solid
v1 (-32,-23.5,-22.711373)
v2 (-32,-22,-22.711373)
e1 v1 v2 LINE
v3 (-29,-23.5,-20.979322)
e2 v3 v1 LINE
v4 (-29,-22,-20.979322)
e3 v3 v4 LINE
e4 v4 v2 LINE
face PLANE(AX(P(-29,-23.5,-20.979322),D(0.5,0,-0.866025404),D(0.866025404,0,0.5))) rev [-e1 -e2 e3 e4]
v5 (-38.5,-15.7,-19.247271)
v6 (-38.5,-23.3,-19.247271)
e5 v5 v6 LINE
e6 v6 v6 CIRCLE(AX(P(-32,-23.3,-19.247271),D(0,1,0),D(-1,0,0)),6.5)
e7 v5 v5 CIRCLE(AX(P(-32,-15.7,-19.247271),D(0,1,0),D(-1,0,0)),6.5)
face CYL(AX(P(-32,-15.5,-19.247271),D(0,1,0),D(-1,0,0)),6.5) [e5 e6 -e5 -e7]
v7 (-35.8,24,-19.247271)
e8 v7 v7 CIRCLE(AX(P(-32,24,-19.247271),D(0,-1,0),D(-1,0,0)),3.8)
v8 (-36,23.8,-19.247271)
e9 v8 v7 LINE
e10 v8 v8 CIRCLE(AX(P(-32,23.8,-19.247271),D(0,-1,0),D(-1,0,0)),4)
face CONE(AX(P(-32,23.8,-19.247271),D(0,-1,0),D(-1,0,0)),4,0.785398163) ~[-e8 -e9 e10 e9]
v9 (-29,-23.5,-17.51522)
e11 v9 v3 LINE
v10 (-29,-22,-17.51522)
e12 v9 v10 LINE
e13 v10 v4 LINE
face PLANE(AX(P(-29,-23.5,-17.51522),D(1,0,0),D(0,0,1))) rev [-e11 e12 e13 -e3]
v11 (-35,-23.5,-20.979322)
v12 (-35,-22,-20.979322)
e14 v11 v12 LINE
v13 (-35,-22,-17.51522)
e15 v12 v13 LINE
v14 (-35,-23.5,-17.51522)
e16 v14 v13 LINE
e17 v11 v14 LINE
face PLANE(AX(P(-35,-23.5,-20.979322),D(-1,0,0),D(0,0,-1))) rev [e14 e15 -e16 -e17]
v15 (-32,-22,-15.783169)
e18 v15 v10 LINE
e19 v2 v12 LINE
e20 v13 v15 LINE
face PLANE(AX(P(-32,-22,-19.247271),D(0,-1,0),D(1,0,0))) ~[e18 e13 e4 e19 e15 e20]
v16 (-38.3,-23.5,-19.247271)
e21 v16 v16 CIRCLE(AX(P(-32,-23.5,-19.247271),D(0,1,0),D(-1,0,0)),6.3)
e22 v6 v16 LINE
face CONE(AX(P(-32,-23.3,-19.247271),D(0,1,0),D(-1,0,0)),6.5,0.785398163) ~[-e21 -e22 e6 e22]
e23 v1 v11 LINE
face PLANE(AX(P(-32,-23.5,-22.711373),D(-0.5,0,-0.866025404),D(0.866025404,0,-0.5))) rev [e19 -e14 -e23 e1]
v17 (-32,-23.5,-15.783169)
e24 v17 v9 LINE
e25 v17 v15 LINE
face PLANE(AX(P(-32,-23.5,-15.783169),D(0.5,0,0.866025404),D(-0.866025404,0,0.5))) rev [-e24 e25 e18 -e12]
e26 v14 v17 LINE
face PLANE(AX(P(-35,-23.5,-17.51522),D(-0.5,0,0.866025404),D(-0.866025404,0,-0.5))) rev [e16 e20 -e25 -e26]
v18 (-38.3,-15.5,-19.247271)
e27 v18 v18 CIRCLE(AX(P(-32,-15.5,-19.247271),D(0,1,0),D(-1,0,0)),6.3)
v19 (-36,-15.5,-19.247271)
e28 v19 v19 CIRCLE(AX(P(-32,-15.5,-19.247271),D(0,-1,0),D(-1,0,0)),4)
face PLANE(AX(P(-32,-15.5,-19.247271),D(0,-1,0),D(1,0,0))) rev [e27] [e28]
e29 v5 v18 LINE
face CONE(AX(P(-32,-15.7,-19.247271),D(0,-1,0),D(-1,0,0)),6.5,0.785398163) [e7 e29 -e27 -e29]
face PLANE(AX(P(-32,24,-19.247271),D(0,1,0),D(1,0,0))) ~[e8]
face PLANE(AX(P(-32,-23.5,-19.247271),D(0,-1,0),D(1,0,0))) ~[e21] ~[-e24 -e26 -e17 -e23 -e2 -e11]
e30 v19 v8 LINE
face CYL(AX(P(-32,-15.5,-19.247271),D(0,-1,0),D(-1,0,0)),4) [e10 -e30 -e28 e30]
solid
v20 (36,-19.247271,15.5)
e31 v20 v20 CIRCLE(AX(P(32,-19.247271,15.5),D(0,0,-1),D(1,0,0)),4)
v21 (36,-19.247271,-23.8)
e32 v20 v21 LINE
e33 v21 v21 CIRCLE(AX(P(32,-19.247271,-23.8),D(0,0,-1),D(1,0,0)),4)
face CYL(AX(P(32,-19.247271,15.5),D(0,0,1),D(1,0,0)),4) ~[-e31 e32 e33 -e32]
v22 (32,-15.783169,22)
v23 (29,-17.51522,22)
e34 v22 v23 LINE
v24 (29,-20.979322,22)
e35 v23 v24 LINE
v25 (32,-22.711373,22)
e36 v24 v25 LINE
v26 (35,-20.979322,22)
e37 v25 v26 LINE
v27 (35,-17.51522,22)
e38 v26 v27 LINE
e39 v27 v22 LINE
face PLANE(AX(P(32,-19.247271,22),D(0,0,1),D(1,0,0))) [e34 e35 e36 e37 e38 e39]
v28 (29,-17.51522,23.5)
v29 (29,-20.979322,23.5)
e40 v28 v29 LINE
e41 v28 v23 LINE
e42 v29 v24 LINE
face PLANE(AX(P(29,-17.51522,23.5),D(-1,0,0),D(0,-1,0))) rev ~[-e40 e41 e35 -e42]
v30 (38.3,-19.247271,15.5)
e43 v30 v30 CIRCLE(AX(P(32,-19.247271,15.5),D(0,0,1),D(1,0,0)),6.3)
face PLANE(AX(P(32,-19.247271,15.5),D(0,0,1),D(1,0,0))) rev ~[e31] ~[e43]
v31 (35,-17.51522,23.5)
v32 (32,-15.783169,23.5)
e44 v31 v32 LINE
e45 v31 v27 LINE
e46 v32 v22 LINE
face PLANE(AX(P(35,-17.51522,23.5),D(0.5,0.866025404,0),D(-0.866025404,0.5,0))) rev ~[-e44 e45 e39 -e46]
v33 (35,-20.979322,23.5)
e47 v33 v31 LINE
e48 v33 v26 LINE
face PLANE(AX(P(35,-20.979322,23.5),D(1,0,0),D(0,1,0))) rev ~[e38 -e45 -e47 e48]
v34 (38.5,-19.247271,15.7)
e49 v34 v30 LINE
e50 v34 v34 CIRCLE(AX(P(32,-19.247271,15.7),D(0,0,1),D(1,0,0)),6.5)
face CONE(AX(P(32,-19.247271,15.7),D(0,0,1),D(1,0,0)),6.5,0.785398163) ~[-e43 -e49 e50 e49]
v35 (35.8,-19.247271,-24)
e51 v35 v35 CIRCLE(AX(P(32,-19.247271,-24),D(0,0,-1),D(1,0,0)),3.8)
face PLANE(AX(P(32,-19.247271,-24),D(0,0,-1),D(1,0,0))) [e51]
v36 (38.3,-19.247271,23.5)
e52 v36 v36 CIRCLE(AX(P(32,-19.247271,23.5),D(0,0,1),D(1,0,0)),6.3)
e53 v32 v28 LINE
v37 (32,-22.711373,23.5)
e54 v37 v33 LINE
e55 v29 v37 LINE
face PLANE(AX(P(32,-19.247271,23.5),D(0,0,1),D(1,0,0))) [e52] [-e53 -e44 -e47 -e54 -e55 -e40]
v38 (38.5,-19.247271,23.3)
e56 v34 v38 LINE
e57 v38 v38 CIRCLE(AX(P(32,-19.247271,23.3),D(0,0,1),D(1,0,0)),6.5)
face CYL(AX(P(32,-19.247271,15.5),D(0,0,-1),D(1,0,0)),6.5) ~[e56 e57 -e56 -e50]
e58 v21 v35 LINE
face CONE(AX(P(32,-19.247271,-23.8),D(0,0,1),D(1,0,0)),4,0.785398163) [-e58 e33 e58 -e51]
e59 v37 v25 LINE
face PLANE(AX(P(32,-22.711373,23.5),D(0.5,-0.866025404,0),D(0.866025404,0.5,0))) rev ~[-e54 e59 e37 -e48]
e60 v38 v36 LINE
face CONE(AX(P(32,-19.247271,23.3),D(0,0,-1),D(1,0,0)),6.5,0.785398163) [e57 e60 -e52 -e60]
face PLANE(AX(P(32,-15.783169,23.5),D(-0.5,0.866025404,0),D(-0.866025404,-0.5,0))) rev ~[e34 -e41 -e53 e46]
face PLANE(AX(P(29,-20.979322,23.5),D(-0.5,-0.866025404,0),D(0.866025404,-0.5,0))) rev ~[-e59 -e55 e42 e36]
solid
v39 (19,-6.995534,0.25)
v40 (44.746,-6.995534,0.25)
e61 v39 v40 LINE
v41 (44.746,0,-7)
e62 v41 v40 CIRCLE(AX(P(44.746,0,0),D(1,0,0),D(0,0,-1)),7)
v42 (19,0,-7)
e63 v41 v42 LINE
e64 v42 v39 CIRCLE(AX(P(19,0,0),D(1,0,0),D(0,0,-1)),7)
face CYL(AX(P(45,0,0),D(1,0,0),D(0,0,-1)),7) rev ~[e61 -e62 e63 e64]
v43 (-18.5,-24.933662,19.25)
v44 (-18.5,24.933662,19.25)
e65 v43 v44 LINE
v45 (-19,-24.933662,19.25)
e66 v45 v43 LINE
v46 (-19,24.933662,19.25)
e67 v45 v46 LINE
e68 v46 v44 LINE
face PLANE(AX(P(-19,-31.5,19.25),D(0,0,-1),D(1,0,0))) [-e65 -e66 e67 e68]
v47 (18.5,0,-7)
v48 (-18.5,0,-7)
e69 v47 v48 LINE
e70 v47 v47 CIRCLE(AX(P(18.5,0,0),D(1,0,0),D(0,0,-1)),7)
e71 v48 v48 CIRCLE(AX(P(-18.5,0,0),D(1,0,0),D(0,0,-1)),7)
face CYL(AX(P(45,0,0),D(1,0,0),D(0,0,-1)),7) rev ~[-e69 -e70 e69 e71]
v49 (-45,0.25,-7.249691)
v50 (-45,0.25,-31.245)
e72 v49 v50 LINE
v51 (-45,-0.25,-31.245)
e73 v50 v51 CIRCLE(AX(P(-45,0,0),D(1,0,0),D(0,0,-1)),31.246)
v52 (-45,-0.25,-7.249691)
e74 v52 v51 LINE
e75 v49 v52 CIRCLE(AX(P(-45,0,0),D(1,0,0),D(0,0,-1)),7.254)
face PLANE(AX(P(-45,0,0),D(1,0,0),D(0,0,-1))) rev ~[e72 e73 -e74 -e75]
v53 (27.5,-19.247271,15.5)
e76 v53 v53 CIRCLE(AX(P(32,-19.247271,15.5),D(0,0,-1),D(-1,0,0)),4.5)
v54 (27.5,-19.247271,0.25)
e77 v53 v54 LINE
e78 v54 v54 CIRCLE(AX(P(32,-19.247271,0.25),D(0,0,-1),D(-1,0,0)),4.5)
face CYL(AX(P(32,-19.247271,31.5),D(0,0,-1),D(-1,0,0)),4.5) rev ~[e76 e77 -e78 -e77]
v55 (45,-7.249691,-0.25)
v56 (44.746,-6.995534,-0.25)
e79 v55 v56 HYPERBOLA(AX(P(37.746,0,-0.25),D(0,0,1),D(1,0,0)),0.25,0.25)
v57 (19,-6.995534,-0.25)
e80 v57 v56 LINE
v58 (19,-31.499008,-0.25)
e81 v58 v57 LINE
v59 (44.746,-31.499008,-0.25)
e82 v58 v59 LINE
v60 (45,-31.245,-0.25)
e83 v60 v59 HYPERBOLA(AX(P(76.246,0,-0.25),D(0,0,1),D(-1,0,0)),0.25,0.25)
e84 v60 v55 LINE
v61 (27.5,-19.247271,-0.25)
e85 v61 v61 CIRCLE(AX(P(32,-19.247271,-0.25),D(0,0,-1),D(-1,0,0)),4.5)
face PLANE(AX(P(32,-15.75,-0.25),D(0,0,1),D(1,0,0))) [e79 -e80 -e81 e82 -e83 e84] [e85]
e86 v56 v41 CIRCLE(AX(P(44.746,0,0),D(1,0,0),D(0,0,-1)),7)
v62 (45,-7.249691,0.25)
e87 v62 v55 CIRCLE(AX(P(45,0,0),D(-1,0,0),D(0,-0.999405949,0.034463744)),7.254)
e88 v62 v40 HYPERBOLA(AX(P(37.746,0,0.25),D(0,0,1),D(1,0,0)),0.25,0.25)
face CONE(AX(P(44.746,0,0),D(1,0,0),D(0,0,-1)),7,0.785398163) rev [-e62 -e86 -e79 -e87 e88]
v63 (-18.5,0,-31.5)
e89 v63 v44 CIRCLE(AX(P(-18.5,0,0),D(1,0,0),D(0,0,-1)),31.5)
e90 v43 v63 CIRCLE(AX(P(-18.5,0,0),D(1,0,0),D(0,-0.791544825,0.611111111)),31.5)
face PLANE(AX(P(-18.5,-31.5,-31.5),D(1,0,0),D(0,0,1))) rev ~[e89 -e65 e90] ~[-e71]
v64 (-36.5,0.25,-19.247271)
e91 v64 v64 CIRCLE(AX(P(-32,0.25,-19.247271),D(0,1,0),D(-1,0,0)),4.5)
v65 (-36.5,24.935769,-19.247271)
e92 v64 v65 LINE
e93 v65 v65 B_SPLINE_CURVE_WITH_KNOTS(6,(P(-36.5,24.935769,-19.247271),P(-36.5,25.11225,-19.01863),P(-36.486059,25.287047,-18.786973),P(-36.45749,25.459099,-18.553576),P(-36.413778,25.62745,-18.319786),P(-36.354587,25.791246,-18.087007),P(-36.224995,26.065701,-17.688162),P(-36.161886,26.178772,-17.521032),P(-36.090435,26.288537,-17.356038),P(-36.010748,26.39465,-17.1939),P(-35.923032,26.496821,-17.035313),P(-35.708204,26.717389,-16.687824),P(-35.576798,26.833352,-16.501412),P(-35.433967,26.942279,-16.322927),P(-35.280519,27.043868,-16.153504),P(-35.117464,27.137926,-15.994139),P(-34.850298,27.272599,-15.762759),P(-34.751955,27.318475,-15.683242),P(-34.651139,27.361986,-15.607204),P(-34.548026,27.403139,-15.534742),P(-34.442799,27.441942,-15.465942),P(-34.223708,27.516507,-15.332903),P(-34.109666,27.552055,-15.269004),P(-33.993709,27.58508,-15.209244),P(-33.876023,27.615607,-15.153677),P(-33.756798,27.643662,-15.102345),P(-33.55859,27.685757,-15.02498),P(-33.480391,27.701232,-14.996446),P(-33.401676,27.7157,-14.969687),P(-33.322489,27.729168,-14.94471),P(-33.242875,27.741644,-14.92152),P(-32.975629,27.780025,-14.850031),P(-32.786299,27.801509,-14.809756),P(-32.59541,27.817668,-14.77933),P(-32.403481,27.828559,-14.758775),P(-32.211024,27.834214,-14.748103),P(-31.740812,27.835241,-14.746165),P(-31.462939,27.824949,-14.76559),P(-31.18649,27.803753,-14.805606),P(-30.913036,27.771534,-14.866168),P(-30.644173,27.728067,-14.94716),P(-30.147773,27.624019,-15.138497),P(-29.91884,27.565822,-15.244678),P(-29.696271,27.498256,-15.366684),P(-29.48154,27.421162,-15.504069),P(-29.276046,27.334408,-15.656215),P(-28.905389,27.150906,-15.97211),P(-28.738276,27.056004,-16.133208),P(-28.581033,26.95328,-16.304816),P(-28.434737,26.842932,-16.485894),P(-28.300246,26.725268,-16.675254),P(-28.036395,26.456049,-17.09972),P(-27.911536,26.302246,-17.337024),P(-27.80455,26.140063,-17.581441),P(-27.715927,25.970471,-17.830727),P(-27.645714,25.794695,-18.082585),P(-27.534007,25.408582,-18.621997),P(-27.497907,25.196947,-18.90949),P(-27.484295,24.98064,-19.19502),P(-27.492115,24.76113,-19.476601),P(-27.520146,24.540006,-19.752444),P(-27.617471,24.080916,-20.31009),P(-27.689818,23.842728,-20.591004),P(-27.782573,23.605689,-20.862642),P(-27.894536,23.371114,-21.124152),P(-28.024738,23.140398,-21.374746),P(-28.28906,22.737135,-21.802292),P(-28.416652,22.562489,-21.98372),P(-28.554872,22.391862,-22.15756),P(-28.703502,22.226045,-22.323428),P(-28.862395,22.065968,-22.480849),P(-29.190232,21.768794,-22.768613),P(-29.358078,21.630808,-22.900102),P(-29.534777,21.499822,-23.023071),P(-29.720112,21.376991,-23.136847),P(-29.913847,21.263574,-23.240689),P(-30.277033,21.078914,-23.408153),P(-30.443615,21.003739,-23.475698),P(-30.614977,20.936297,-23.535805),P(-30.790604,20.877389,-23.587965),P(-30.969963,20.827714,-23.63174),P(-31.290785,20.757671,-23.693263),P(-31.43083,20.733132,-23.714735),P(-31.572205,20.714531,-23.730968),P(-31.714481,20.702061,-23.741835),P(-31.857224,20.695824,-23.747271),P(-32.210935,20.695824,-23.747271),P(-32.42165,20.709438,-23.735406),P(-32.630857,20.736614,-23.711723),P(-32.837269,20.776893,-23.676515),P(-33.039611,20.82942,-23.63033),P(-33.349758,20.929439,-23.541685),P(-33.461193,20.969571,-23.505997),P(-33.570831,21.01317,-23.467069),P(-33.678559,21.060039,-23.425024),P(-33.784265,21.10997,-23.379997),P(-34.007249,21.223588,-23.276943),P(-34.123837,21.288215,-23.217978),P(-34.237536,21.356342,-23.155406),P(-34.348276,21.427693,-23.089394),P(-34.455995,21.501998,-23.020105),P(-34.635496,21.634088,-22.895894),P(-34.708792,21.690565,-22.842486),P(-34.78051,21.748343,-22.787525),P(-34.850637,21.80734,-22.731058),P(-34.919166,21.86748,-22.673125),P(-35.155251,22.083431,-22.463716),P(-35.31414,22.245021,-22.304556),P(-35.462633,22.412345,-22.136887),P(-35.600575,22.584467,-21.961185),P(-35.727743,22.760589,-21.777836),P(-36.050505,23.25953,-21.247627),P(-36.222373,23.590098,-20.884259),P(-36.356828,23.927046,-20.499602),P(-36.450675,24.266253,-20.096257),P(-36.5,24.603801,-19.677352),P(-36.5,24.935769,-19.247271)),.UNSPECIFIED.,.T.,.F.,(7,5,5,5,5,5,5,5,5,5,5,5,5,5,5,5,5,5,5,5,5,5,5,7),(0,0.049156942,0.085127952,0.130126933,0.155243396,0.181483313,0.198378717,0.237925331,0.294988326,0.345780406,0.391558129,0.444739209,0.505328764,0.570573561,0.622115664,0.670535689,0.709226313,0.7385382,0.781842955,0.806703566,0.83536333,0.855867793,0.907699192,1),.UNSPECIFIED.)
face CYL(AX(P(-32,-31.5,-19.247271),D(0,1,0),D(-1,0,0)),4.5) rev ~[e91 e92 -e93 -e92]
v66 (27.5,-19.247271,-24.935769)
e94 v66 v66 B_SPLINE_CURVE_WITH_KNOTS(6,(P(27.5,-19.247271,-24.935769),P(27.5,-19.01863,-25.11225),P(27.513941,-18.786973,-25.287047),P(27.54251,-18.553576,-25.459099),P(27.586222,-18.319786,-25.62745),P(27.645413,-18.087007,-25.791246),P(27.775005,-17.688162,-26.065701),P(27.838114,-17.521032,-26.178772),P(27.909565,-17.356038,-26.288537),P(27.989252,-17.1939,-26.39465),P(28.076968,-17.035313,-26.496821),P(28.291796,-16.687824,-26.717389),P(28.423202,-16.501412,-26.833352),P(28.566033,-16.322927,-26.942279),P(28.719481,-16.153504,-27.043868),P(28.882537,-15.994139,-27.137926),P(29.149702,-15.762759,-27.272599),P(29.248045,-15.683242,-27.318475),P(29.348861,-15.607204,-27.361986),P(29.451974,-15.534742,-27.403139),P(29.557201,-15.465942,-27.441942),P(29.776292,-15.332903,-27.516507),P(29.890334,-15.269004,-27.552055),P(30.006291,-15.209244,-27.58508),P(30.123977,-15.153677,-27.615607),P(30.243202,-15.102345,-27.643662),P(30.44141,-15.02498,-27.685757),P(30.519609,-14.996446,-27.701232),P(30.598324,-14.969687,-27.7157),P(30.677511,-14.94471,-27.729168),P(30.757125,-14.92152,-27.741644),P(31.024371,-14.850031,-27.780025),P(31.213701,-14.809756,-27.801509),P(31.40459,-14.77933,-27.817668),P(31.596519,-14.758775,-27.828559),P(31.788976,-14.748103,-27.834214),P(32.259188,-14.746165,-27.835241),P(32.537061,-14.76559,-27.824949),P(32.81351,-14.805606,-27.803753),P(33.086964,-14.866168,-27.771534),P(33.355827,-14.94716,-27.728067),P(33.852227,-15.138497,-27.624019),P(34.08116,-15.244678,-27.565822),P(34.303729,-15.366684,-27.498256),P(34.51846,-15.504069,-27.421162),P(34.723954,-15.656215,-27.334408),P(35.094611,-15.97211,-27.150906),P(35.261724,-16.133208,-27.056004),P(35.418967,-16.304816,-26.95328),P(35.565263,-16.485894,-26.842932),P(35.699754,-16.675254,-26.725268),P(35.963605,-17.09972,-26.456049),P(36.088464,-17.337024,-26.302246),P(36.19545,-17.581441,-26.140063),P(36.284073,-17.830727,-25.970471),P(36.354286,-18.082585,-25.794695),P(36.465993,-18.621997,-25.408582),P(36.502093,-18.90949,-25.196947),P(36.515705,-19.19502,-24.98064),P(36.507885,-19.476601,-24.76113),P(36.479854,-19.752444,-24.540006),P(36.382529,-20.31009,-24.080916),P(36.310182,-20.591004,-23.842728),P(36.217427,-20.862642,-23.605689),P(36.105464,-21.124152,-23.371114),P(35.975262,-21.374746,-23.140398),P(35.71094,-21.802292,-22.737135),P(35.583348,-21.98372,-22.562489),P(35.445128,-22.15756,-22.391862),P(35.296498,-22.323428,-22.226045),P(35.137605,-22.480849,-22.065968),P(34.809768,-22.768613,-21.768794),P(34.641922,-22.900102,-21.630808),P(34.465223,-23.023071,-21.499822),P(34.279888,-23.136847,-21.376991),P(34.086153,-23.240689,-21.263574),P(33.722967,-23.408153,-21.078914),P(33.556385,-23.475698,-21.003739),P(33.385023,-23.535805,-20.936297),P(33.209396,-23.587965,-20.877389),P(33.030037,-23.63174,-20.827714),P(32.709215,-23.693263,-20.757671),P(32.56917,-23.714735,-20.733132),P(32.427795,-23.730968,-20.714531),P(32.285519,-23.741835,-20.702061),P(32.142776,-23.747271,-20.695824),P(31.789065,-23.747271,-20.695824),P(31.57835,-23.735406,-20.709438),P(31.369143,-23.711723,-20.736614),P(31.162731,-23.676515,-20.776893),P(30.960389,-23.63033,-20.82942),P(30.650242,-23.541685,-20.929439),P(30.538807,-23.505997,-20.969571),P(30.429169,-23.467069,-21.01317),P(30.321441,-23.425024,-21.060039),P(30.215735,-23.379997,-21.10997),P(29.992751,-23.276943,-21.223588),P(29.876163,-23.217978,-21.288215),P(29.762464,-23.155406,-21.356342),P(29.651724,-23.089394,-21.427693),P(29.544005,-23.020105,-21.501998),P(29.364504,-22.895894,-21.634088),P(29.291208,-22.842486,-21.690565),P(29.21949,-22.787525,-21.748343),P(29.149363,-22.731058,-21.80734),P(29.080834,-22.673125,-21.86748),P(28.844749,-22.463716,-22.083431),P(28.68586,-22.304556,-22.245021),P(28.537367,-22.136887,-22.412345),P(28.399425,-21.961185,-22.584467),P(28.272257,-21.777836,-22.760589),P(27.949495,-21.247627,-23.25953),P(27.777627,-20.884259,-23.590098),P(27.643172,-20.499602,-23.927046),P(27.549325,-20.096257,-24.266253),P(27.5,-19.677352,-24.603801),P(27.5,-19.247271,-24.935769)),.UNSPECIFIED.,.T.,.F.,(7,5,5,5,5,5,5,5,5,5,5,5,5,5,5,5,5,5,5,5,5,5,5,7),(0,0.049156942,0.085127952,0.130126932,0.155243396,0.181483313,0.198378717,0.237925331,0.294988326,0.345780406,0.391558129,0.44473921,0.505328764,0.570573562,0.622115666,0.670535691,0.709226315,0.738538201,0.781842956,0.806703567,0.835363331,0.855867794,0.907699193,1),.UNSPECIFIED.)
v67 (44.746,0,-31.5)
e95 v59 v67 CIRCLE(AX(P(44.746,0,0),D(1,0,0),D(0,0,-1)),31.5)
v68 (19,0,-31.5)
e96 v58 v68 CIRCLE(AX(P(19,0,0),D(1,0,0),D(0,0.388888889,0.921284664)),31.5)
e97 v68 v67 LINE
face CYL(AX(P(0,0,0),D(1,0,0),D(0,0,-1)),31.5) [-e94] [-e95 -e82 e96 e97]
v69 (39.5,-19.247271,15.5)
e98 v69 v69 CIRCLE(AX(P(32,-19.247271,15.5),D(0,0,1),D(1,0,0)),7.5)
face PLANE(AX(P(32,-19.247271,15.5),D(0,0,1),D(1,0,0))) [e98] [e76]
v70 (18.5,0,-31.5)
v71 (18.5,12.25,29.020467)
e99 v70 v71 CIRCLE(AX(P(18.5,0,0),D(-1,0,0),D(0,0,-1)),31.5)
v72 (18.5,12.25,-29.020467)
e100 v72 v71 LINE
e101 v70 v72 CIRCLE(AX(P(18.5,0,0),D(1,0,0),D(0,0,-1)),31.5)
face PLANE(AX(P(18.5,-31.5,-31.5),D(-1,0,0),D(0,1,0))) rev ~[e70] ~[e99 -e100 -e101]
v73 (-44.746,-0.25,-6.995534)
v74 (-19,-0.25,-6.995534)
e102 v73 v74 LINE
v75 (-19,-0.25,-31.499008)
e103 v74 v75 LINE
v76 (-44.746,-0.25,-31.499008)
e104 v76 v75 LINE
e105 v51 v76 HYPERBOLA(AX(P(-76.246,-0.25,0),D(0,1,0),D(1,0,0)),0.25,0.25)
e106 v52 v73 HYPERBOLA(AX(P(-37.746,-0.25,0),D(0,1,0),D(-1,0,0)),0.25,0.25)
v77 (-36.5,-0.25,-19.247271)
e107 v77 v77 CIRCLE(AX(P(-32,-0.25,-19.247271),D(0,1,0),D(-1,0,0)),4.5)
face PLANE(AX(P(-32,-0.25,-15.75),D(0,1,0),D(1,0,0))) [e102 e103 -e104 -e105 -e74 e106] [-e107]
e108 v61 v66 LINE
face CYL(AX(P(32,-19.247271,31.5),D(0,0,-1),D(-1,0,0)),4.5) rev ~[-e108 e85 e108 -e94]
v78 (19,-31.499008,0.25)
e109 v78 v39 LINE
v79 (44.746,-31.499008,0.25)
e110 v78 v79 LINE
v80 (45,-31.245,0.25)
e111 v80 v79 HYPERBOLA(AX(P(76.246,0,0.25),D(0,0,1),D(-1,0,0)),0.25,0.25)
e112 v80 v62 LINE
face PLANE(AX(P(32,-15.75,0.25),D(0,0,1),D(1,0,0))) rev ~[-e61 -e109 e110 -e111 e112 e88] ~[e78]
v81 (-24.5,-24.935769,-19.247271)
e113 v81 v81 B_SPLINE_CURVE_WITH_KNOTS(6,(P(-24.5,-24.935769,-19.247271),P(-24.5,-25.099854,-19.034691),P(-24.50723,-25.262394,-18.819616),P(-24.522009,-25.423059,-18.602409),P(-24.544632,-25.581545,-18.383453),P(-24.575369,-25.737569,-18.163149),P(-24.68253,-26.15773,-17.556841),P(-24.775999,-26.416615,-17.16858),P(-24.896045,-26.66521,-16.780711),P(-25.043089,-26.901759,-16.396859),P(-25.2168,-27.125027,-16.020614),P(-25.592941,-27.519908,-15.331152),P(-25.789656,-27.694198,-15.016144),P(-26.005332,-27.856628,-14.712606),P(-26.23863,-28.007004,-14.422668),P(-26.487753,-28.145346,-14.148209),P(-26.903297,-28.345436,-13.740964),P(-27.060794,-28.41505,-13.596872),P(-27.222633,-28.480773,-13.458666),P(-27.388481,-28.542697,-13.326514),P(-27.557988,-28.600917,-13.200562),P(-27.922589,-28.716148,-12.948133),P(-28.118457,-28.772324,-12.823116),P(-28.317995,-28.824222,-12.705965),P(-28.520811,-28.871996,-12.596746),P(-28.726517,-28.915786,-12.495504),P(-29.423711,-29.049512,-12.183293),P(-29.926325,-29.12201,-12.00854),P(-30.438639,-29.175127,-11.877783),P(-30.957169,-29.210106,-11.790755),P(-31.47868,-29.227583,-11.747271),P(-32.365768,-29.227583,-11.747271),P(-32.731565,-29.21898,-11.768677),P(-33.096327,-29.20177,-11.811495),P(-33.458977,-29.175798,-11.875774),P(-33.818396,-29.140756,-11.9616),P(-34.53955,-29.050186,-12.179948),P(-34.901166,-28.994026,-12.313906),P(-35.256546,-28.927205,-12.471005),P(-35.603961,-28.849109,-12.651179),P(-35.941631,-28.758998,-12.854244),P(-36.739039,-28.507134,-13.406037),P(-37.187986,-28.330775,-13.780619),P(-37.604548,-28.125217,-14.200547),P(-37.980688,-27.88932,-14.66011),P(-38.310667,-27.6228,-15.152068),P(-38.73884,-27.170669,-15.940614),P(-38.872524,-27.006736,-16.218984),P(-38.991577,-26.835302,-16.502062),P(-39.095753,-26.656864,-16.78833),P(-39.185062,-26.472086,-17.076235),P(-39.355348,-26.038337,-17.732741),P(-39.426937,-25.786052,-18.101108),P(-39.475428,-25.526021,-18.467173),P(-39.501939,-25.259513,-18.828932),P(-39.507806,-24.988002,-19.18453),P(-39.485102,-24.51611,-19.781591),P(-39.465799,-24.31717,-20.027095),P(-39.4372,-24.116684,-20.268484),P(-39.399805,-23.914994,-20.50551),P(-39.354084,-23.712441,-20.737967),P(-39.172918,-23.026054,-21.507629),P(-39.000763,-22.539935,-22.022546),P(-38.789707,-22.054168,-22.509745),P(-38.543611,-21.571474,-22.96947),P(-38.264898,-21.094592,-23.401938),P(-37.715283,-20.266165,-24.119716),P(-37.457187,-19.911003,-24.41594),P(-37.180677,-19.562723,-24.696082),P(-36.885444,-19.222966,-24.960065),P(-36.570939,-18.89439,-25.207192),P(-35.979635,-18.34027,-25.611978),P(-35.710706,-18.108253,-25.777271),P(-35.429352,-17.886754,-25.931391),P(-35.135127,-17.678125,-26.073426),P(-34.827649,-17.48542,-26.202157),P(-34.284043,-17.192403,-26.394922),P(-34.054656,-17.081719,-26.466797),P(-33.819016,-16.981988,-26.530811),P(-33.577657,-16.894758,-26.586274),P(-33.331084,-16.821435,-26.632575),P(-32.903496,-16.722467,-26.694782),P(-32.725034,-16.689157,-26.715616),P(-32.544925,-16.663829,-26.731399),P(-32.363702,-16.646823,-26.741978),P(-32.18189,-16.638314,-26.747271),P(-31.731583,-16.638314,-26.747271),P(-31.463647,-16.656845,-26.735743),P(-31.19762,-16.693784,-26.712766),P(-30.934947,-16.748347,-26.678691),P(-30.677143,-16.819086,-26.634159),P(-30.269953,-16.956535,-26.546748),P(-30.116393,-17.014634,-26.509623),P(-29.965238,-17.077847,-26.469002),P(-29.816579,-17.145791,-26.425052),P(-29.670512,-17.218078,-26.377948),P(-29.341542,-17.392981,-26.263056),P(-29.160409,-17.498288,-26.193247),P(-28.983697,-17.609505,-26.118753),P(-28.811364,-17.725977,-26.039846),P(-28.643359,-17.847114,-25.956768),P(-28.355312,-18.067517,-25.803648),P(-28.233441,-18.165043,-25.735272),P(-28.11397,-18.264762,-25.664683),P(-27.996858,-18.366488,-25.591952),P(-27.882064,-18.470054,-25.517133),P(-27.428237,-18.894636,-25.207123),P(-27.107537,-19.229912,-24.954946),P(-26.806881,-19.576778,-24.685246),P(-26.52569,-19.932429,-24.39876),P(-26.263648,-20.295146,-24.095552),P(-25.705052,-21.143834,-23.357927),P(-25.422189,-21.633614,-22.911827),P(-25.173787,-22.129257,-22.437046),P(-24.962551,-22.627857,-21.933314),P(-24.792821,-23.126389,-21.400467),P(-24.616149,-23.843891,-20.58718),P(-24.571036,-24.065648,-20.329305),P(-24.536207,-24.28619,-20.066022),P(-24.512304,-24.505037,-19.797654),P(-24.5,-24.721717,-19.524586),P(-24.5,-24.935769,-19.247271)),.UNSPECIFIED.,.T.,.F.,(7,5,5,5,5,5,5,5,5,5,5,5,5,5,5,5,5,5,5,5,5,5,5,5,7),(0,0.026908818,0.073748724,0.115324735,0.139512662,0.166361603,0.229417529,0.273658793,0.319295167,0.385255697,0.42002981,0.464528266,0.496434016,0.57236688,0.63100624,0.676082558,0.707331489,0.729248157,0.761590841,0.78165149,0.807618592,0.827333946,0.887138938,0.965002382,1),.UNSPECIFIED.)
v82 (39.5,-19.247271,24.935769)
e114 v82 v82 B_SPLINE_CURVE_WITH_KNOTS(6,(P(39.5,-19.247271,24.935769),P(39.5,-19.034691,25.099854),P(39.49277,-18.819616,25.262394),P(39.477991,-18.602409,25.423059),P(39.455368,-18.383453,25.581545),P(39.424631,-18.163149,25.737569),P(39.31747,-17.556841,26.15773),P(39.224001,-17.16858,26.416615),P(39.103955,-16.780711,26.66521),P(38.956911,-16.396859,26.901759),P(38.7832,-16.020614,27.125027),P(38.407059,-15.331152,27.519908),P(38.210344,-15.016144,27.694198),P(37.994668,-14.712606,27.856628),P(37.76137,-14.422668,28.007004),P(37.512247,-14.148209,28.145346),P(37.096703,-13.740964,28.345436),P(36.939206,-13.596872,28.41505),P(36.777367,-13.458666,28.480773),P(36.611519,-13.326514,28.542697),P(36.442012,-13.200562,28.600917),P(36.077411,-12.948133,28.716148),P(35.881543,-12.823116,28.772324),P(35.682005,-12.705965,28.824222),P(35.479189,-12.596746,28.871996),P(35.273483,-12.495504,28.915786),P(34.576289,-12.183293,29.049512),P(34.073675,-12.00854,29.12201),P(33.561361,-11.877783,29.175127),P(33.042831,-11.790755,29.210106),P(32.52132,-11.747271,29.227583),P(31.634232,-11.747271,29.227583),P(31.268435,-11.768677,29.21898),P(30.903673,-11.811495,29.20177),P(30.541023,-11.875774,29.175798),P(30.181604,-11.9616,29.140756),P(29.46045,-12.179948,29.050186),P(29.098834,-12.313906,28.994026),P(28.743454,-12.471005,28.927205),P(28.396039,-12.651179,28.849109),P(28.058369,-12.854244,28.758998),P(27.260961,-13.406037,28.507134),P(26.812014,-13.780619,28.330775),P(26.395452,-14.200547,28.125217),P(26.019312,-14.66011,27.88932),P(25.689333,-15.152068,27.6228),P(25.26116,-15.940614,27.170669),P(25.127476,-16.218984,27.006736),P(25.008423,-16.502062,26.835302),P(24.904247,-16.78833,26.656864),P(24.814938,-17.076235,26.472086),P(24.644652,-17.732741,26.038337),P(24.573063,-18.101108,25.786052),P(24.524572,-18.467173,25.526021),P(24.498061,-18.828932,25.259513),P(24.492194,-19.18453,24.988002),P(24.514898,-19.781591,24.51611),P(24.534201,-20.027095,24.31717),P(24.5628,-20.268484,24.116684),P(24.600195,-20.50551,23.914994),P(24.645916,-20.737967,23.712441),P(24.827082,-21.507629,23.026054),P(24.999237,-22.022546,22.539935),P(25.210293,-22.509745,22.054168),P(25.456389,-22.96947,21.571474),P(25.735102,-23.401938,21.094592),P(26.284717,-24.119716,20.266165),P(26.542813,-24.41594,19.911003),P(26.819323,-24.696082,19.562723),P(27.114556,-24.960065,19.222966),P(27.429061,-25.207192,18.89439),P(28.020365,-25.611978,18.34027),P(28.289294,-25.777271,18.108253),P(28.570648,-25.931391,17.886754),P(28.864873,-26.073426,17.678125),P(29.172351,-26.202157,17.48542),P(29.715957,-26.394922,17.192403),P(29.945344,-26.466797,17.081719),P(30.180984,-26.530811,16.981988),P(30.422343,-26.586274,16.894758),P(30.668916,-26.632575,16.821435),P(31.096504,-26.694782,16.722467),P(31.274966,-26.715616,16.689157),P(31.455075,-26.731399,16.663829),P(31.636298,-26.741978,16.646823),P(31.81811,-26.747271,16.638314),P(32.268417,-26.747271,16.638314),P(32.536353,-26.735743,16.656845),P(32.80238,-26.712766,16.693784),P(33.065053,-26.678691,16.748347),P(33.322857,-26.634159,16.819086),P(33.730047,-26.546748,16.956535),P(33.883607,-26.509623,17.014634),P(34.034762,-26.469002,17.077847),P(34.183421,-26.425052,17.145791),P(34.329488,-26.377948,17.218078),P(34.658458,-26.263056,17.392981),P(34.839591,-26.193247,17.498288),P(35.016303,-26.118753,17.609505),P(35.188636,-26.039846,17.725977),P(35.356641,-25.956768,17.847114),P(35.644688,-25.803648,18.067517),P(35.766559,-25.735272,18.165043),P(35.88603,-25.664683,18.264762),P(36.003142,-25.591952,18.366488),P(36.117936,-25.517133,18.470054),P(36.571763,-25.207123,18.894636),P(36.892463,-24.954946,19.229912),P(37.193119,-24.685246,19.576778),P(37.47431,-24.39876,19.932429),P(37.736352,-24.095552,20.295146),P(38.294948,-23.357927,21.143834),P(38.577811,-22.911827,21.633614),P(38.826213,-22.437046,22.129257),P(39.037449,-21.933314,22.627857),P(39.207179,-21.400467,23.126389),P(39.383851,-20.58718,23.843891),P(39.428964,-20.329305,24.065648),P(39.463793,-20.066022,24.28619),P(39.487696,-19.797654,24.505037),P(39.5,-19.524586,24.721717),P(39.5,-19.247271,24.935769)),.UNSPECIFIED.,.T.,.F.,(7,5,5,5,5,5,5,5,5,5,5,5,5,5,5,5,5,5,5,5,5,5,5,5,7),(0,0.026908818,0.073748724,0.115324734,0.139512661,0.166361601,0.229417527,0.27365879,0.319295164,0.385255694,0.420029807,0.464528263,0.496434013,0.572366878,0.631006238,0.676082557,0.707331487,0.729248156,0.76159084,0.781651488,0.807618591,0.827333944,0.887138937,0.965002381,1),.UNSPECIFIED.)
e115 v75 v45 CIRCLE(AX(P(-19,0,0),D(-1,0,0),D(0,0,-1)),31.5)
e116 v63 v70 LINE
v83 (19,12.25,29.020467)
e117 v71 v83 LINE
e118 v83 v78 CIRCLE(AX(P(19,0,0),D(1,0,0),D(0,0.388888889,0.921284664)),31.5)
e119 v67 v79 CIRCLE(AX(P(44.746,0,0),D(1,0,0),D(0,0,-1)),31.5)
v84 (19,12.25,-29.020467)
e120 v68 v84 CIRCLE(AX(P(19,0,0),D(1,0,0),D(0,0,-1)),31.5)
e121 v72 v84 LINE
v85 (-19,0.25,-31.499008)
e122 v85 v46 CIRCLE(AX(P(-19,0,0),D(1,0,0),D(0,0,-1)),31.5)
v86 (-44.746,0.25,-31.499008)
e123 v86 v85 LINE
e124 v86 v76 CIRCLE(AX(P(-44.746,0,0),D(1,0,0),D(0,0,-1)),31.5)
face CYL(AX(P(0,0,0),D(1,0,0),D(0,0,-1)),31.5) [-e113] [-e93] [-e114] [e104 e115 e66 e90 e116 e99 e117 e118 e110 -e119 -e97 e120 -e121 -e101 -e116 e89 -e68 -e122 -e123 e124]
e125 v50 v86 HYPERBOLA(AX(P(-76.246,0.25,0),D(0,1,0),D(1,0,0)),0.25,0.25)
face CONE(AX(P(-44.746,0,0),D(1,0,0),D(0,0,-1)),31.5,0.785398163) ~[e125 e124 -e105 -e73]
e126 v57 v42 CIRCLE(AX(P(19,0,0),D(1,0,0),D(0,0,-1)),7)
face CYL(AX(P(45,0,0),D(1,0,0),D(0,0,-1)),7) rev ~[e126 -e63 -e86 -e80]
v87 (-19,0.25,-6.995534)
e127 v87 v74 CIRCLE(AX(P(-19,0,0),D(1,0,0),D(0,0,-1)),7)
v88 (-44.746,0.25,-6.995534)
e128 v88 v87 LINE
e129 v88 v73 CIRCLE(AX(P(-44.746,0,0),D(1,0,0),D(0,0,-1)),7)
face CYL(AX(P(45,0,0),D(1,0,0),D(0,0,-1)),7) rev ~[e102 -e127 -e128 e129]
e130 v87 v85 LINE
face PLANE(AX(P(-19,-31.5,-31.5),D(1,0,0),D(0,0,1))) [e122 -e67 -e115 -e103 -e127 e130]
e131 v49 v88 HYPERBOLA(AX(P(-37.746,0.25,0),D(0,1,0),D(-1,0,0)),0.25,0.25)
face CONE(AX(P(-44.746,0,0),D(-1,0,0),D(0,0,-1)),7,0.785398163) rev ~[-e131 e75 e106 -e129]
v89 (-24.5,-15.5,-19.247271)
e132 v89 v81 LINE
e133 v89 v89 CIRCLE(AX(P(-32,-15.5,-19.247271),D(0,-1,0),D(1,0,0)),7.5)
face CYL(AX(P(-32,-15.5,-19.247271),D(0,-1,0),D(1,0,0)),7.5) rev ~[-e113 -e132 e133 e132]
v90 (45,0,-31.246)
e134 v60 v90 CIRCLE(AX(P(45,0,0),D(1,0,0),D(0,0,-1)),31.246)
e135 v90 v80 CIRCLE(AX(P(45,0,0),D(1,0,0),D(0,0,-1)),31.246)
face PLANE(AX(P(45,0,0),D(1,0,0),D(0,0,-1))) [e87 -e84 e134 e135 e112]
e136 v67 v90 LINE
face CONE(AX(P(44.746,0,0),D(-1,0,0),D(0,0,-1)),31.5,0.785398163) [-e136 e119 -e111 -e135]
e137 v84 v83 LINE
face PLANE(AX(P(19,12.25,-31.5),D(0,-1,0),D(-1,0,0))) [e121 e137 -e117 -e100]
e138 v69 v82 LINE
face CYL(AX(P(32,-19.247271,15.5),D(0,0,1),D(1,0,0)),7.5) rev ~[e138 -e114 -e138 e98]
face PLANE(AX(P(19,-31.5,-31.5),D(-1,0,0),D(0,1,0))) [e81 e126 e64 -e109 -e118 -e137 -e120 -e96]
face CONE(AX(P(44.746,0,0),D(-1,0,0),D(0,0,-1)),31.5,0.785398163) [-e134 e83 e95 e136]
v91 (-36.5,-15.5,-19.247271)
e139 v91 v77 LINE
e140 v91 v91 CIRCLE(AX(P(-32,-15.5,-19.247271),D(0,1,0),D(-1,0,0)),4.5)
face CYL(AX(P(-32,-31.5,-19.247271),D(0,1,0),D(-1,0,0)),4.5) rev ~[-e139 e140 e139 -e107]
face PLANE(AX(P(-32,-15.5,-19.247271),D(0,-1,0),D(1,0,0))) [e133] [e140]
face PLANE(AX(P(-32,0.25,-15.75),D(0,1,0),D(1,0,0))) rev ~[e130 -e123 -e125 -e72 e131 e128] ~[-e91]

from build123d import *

# Parameters (mm, degrees)
SKETCH1_R                      = 31.5
BOSS_EXTRUDE1_DEPTH            = 45
SKETCH2_R                      = 7
CUT_EXTRUDE1_DEPTH             = 91
CHAMFER1_SIZE                  = 0.254
SKETCH4_W                      = 0.5
SKETCH4_H                      = 50.75
CUT_EXTRUDE2_DEPTH             = 64
SKETCH7_W                      = 0.5
SKETCH7_H                      = 43.75
CUT_EXTRUDE3_DEPTH             = 64
SKETCH8_W                      = 26
SKETCH8_H                      = 31.5
CUT_EXTRUDE5_DEPTH             = 0.25
SKETCH13_W                     = 26
SKETCH13_H                     = 31.5
CUT_EXTRUDE6_DEPTH             = 0.25
CBORE_FOR_M8_SHCS1_D           = 9
CBORE_FOR_M8_SHCS1_CBORE_D     = 15
CBORE_FOR_M8_SHCS1_CBORE_DEPTH = 16
CBORE_FOR_M8_SHCS2_D           = 9
CBORE_FOR_M8_SHCS2_CBORE_D     = 15
CBORE_FOR_M8_SHCS2_CBORE_DEPTH = 16
SKETCH16_R                     = 6.5
BOSS_EXTRUDE2_DEPTH            = 8
SKETCH17_R                     = 4
BOSS_EXTRUDE3_DEPTH            = 39.5
CHAMFER2_SIZE                  = 0.2
CUT_EXTRUDE7_DEPTH             = 1.5
CIRPATTERN1_COUNT              = 2
CIRPATTERN1_ANGLE              = 90


with BuildPart() as part:
    # Sketch1 → Boss-Extrude1 (new body, symmetric)
    with BuildSketch(Plane(origin=(0, 0, 0), x_dir=(0, 0, -1), z_dir=(1, 0, 0))):
        Circle(SKETCH1_R)
    extrude(amount=BOSS_EXTRUDE1_DEPTH, both=True)

    # Sketch2 → Cut-Extrude1 (cut, through all)
    with BuildSketch(Plane(origin=(45, 0, 0), x_dir=(0, 0, -1), z_dir=(1, 0, 0))):
        Circle(SKETCH2_R)
    extrude(amount=-CUT_EXTRUDE1_DEPTH, mode=Mode.SUBTRACT)

    # Chamfer1
    chamfer1_edges = [part.edges().sort_by_distance(p)[0] for p in [
        (-45, 0, 31.5),
        (45, 0, 31.5),
        (-45, 0, 7),
        (45, 0, 7),
    ]]
    chamfer(chamfer1_edges, length=CHAMFER1_SIZE)

    # Sketch4 → Cut-Extrude2 (cut, through all)
    with BuildSketch(Plane.XZ.offset(31.5)):
        with Locations((-18.75, -6.125)):
            Rectangle(SKETCH4_W, SKETCH4_H)
    extrude(amount=-CUT_EXTRUDE2_DEPTH, mode=Mode.SUBTRACT)

    # Sketch7 → Cut-Extrude3 (cut, through all)
    with BuildSketch(Plane(origin=(0, 0, -31.5), x_dir=(-1, 0, 0), z_dir=(0, 0, -1))):
        with Locations((-18.75, -9.625)):
            Rectangle(SKETCH7_W, SKETCH7_H)
    extrude(amount=-CUT_EXTRUDE3_DEPTH, mode=Mode.SUBTRACT)

    # Sketch8 → Cut-Extrude5 (cut, symmetric)
    with BuildSketch(Plane(origin=(0, 0, 0), x_dir=(1, 0, 0), z_dir=(0, 1, 0))):
        with Locations((-32, 15.75)):
            Rectangle(SKETCH8_W, SKETCH8_H)
    extrude(amount=CUT_EXTRUDE5_DEPTH, both=True, mode=Mode.SUBTRACT)

    # Sketch13 → Cut-Extrude6 (cut, symmetric)
    with BuildSketch(Plane.XY):
        with Locations((32, -15.75)):
            Rectangle(SKETCH13_W, SKETCH13_H)
    extrude(amount=CUT_EXTRUDE6_DEPTH, both=True, mode=Mode.SUBTRACT)

    # CBORE for M8 SHCS1 (through all)
    with Locations(Plane.XZ.offset(31.5)):
        with Locations((-32, -19.247271105)):
            CounterBoreHole(CBORE_FOR_M8_SHCS1_D / 2, CBORE_FOR_M8_SHCS1_CBORE_D / 2, CBORE_FOR_M8_SHCS1_CBORE_DEPTH)

    # CBORE for M8 SHCS2 (through all)
    with Locations(Plane.XY.offset(31.5)):
        with Locations((32, -19.247271105)):
            CounterBoreHole(CBORE_FOR_M8_SHCS2_D / 2, CBORE_FOR_M8_SHCS2_CBORE_D / 2, CBORE_FOR_M8_SHCS2_CBORE_DEPTH)


with BuildPart() as body_2:
    # Sketch16 → Boss-Extrude2 (new body)
    with BuildSketch(Plane.XY.offset(15.5)):
        with Locations((32, -19.247271105)):
            Circle(SKETCH16_R)
    extrude(amount=BOSS_EXTRUDE2_DEPTH)

    # Sketch17 → Boss-Extrude3 (add)
    with BuildSketch(Plane(origin=(0, 0, 15.5), x_dir=(-1, 0, 0), z_dir=(0, 0, -1))):
        with Locations(Location((-32, -19.247271105, 0), (0, 0, 180))):  # turned: the seam where the file's is
            Circle(SKETCH17_R)
    extrude(amount=BOSS_EXTRUDE3_DEPTH)

    # Chamfer2
    chamfer2_edges = [body_2.edges().sort_by_distance(p)[0] for p in [
        (25.5, -19.247271105, 15.5),
        (25.5, -19.247271105, 23.5),
        (28, -19.247271105, -24),
    ]]
    chamfer(chamfer2_edges, length=CHAMFER2_SIZE)

    # Sketch18 → Cut-Extrude7 (cut)
    with BuildSketch(Plane.XY.offset(23.5)):
        Polygon((32, -22.71137272), (35, -20.979321913), (35, -17.515220298), (32, -15.78316949), (29, -17.515220298), (29, -20.979321913), align=None)
    extrude(amount=-CUT_EXTRUDE7_DEPTH, mode=Mode.SUBTRACT)


with BuildPart() as body_3:
    # Mirror1: mirrored copy
    add(body_2.part.mirror(Plane(origin=(0, 0, 0), x_dir=(0, 0, 1), z_dir=(1, 0, 0))))


with BuildPart() as cirpattern1_1:
    # CirPattern1: pattern copy
    add(body_3.part.rotate(Axis((0, 0, 0), (1, 0, 0)), 1 * CIRPATTERN1_ANGLE / (CIRPATTERN1_COUNT - 1)))


solid = Compound([part.part, body_2.part, cirpattern1_1.part])
